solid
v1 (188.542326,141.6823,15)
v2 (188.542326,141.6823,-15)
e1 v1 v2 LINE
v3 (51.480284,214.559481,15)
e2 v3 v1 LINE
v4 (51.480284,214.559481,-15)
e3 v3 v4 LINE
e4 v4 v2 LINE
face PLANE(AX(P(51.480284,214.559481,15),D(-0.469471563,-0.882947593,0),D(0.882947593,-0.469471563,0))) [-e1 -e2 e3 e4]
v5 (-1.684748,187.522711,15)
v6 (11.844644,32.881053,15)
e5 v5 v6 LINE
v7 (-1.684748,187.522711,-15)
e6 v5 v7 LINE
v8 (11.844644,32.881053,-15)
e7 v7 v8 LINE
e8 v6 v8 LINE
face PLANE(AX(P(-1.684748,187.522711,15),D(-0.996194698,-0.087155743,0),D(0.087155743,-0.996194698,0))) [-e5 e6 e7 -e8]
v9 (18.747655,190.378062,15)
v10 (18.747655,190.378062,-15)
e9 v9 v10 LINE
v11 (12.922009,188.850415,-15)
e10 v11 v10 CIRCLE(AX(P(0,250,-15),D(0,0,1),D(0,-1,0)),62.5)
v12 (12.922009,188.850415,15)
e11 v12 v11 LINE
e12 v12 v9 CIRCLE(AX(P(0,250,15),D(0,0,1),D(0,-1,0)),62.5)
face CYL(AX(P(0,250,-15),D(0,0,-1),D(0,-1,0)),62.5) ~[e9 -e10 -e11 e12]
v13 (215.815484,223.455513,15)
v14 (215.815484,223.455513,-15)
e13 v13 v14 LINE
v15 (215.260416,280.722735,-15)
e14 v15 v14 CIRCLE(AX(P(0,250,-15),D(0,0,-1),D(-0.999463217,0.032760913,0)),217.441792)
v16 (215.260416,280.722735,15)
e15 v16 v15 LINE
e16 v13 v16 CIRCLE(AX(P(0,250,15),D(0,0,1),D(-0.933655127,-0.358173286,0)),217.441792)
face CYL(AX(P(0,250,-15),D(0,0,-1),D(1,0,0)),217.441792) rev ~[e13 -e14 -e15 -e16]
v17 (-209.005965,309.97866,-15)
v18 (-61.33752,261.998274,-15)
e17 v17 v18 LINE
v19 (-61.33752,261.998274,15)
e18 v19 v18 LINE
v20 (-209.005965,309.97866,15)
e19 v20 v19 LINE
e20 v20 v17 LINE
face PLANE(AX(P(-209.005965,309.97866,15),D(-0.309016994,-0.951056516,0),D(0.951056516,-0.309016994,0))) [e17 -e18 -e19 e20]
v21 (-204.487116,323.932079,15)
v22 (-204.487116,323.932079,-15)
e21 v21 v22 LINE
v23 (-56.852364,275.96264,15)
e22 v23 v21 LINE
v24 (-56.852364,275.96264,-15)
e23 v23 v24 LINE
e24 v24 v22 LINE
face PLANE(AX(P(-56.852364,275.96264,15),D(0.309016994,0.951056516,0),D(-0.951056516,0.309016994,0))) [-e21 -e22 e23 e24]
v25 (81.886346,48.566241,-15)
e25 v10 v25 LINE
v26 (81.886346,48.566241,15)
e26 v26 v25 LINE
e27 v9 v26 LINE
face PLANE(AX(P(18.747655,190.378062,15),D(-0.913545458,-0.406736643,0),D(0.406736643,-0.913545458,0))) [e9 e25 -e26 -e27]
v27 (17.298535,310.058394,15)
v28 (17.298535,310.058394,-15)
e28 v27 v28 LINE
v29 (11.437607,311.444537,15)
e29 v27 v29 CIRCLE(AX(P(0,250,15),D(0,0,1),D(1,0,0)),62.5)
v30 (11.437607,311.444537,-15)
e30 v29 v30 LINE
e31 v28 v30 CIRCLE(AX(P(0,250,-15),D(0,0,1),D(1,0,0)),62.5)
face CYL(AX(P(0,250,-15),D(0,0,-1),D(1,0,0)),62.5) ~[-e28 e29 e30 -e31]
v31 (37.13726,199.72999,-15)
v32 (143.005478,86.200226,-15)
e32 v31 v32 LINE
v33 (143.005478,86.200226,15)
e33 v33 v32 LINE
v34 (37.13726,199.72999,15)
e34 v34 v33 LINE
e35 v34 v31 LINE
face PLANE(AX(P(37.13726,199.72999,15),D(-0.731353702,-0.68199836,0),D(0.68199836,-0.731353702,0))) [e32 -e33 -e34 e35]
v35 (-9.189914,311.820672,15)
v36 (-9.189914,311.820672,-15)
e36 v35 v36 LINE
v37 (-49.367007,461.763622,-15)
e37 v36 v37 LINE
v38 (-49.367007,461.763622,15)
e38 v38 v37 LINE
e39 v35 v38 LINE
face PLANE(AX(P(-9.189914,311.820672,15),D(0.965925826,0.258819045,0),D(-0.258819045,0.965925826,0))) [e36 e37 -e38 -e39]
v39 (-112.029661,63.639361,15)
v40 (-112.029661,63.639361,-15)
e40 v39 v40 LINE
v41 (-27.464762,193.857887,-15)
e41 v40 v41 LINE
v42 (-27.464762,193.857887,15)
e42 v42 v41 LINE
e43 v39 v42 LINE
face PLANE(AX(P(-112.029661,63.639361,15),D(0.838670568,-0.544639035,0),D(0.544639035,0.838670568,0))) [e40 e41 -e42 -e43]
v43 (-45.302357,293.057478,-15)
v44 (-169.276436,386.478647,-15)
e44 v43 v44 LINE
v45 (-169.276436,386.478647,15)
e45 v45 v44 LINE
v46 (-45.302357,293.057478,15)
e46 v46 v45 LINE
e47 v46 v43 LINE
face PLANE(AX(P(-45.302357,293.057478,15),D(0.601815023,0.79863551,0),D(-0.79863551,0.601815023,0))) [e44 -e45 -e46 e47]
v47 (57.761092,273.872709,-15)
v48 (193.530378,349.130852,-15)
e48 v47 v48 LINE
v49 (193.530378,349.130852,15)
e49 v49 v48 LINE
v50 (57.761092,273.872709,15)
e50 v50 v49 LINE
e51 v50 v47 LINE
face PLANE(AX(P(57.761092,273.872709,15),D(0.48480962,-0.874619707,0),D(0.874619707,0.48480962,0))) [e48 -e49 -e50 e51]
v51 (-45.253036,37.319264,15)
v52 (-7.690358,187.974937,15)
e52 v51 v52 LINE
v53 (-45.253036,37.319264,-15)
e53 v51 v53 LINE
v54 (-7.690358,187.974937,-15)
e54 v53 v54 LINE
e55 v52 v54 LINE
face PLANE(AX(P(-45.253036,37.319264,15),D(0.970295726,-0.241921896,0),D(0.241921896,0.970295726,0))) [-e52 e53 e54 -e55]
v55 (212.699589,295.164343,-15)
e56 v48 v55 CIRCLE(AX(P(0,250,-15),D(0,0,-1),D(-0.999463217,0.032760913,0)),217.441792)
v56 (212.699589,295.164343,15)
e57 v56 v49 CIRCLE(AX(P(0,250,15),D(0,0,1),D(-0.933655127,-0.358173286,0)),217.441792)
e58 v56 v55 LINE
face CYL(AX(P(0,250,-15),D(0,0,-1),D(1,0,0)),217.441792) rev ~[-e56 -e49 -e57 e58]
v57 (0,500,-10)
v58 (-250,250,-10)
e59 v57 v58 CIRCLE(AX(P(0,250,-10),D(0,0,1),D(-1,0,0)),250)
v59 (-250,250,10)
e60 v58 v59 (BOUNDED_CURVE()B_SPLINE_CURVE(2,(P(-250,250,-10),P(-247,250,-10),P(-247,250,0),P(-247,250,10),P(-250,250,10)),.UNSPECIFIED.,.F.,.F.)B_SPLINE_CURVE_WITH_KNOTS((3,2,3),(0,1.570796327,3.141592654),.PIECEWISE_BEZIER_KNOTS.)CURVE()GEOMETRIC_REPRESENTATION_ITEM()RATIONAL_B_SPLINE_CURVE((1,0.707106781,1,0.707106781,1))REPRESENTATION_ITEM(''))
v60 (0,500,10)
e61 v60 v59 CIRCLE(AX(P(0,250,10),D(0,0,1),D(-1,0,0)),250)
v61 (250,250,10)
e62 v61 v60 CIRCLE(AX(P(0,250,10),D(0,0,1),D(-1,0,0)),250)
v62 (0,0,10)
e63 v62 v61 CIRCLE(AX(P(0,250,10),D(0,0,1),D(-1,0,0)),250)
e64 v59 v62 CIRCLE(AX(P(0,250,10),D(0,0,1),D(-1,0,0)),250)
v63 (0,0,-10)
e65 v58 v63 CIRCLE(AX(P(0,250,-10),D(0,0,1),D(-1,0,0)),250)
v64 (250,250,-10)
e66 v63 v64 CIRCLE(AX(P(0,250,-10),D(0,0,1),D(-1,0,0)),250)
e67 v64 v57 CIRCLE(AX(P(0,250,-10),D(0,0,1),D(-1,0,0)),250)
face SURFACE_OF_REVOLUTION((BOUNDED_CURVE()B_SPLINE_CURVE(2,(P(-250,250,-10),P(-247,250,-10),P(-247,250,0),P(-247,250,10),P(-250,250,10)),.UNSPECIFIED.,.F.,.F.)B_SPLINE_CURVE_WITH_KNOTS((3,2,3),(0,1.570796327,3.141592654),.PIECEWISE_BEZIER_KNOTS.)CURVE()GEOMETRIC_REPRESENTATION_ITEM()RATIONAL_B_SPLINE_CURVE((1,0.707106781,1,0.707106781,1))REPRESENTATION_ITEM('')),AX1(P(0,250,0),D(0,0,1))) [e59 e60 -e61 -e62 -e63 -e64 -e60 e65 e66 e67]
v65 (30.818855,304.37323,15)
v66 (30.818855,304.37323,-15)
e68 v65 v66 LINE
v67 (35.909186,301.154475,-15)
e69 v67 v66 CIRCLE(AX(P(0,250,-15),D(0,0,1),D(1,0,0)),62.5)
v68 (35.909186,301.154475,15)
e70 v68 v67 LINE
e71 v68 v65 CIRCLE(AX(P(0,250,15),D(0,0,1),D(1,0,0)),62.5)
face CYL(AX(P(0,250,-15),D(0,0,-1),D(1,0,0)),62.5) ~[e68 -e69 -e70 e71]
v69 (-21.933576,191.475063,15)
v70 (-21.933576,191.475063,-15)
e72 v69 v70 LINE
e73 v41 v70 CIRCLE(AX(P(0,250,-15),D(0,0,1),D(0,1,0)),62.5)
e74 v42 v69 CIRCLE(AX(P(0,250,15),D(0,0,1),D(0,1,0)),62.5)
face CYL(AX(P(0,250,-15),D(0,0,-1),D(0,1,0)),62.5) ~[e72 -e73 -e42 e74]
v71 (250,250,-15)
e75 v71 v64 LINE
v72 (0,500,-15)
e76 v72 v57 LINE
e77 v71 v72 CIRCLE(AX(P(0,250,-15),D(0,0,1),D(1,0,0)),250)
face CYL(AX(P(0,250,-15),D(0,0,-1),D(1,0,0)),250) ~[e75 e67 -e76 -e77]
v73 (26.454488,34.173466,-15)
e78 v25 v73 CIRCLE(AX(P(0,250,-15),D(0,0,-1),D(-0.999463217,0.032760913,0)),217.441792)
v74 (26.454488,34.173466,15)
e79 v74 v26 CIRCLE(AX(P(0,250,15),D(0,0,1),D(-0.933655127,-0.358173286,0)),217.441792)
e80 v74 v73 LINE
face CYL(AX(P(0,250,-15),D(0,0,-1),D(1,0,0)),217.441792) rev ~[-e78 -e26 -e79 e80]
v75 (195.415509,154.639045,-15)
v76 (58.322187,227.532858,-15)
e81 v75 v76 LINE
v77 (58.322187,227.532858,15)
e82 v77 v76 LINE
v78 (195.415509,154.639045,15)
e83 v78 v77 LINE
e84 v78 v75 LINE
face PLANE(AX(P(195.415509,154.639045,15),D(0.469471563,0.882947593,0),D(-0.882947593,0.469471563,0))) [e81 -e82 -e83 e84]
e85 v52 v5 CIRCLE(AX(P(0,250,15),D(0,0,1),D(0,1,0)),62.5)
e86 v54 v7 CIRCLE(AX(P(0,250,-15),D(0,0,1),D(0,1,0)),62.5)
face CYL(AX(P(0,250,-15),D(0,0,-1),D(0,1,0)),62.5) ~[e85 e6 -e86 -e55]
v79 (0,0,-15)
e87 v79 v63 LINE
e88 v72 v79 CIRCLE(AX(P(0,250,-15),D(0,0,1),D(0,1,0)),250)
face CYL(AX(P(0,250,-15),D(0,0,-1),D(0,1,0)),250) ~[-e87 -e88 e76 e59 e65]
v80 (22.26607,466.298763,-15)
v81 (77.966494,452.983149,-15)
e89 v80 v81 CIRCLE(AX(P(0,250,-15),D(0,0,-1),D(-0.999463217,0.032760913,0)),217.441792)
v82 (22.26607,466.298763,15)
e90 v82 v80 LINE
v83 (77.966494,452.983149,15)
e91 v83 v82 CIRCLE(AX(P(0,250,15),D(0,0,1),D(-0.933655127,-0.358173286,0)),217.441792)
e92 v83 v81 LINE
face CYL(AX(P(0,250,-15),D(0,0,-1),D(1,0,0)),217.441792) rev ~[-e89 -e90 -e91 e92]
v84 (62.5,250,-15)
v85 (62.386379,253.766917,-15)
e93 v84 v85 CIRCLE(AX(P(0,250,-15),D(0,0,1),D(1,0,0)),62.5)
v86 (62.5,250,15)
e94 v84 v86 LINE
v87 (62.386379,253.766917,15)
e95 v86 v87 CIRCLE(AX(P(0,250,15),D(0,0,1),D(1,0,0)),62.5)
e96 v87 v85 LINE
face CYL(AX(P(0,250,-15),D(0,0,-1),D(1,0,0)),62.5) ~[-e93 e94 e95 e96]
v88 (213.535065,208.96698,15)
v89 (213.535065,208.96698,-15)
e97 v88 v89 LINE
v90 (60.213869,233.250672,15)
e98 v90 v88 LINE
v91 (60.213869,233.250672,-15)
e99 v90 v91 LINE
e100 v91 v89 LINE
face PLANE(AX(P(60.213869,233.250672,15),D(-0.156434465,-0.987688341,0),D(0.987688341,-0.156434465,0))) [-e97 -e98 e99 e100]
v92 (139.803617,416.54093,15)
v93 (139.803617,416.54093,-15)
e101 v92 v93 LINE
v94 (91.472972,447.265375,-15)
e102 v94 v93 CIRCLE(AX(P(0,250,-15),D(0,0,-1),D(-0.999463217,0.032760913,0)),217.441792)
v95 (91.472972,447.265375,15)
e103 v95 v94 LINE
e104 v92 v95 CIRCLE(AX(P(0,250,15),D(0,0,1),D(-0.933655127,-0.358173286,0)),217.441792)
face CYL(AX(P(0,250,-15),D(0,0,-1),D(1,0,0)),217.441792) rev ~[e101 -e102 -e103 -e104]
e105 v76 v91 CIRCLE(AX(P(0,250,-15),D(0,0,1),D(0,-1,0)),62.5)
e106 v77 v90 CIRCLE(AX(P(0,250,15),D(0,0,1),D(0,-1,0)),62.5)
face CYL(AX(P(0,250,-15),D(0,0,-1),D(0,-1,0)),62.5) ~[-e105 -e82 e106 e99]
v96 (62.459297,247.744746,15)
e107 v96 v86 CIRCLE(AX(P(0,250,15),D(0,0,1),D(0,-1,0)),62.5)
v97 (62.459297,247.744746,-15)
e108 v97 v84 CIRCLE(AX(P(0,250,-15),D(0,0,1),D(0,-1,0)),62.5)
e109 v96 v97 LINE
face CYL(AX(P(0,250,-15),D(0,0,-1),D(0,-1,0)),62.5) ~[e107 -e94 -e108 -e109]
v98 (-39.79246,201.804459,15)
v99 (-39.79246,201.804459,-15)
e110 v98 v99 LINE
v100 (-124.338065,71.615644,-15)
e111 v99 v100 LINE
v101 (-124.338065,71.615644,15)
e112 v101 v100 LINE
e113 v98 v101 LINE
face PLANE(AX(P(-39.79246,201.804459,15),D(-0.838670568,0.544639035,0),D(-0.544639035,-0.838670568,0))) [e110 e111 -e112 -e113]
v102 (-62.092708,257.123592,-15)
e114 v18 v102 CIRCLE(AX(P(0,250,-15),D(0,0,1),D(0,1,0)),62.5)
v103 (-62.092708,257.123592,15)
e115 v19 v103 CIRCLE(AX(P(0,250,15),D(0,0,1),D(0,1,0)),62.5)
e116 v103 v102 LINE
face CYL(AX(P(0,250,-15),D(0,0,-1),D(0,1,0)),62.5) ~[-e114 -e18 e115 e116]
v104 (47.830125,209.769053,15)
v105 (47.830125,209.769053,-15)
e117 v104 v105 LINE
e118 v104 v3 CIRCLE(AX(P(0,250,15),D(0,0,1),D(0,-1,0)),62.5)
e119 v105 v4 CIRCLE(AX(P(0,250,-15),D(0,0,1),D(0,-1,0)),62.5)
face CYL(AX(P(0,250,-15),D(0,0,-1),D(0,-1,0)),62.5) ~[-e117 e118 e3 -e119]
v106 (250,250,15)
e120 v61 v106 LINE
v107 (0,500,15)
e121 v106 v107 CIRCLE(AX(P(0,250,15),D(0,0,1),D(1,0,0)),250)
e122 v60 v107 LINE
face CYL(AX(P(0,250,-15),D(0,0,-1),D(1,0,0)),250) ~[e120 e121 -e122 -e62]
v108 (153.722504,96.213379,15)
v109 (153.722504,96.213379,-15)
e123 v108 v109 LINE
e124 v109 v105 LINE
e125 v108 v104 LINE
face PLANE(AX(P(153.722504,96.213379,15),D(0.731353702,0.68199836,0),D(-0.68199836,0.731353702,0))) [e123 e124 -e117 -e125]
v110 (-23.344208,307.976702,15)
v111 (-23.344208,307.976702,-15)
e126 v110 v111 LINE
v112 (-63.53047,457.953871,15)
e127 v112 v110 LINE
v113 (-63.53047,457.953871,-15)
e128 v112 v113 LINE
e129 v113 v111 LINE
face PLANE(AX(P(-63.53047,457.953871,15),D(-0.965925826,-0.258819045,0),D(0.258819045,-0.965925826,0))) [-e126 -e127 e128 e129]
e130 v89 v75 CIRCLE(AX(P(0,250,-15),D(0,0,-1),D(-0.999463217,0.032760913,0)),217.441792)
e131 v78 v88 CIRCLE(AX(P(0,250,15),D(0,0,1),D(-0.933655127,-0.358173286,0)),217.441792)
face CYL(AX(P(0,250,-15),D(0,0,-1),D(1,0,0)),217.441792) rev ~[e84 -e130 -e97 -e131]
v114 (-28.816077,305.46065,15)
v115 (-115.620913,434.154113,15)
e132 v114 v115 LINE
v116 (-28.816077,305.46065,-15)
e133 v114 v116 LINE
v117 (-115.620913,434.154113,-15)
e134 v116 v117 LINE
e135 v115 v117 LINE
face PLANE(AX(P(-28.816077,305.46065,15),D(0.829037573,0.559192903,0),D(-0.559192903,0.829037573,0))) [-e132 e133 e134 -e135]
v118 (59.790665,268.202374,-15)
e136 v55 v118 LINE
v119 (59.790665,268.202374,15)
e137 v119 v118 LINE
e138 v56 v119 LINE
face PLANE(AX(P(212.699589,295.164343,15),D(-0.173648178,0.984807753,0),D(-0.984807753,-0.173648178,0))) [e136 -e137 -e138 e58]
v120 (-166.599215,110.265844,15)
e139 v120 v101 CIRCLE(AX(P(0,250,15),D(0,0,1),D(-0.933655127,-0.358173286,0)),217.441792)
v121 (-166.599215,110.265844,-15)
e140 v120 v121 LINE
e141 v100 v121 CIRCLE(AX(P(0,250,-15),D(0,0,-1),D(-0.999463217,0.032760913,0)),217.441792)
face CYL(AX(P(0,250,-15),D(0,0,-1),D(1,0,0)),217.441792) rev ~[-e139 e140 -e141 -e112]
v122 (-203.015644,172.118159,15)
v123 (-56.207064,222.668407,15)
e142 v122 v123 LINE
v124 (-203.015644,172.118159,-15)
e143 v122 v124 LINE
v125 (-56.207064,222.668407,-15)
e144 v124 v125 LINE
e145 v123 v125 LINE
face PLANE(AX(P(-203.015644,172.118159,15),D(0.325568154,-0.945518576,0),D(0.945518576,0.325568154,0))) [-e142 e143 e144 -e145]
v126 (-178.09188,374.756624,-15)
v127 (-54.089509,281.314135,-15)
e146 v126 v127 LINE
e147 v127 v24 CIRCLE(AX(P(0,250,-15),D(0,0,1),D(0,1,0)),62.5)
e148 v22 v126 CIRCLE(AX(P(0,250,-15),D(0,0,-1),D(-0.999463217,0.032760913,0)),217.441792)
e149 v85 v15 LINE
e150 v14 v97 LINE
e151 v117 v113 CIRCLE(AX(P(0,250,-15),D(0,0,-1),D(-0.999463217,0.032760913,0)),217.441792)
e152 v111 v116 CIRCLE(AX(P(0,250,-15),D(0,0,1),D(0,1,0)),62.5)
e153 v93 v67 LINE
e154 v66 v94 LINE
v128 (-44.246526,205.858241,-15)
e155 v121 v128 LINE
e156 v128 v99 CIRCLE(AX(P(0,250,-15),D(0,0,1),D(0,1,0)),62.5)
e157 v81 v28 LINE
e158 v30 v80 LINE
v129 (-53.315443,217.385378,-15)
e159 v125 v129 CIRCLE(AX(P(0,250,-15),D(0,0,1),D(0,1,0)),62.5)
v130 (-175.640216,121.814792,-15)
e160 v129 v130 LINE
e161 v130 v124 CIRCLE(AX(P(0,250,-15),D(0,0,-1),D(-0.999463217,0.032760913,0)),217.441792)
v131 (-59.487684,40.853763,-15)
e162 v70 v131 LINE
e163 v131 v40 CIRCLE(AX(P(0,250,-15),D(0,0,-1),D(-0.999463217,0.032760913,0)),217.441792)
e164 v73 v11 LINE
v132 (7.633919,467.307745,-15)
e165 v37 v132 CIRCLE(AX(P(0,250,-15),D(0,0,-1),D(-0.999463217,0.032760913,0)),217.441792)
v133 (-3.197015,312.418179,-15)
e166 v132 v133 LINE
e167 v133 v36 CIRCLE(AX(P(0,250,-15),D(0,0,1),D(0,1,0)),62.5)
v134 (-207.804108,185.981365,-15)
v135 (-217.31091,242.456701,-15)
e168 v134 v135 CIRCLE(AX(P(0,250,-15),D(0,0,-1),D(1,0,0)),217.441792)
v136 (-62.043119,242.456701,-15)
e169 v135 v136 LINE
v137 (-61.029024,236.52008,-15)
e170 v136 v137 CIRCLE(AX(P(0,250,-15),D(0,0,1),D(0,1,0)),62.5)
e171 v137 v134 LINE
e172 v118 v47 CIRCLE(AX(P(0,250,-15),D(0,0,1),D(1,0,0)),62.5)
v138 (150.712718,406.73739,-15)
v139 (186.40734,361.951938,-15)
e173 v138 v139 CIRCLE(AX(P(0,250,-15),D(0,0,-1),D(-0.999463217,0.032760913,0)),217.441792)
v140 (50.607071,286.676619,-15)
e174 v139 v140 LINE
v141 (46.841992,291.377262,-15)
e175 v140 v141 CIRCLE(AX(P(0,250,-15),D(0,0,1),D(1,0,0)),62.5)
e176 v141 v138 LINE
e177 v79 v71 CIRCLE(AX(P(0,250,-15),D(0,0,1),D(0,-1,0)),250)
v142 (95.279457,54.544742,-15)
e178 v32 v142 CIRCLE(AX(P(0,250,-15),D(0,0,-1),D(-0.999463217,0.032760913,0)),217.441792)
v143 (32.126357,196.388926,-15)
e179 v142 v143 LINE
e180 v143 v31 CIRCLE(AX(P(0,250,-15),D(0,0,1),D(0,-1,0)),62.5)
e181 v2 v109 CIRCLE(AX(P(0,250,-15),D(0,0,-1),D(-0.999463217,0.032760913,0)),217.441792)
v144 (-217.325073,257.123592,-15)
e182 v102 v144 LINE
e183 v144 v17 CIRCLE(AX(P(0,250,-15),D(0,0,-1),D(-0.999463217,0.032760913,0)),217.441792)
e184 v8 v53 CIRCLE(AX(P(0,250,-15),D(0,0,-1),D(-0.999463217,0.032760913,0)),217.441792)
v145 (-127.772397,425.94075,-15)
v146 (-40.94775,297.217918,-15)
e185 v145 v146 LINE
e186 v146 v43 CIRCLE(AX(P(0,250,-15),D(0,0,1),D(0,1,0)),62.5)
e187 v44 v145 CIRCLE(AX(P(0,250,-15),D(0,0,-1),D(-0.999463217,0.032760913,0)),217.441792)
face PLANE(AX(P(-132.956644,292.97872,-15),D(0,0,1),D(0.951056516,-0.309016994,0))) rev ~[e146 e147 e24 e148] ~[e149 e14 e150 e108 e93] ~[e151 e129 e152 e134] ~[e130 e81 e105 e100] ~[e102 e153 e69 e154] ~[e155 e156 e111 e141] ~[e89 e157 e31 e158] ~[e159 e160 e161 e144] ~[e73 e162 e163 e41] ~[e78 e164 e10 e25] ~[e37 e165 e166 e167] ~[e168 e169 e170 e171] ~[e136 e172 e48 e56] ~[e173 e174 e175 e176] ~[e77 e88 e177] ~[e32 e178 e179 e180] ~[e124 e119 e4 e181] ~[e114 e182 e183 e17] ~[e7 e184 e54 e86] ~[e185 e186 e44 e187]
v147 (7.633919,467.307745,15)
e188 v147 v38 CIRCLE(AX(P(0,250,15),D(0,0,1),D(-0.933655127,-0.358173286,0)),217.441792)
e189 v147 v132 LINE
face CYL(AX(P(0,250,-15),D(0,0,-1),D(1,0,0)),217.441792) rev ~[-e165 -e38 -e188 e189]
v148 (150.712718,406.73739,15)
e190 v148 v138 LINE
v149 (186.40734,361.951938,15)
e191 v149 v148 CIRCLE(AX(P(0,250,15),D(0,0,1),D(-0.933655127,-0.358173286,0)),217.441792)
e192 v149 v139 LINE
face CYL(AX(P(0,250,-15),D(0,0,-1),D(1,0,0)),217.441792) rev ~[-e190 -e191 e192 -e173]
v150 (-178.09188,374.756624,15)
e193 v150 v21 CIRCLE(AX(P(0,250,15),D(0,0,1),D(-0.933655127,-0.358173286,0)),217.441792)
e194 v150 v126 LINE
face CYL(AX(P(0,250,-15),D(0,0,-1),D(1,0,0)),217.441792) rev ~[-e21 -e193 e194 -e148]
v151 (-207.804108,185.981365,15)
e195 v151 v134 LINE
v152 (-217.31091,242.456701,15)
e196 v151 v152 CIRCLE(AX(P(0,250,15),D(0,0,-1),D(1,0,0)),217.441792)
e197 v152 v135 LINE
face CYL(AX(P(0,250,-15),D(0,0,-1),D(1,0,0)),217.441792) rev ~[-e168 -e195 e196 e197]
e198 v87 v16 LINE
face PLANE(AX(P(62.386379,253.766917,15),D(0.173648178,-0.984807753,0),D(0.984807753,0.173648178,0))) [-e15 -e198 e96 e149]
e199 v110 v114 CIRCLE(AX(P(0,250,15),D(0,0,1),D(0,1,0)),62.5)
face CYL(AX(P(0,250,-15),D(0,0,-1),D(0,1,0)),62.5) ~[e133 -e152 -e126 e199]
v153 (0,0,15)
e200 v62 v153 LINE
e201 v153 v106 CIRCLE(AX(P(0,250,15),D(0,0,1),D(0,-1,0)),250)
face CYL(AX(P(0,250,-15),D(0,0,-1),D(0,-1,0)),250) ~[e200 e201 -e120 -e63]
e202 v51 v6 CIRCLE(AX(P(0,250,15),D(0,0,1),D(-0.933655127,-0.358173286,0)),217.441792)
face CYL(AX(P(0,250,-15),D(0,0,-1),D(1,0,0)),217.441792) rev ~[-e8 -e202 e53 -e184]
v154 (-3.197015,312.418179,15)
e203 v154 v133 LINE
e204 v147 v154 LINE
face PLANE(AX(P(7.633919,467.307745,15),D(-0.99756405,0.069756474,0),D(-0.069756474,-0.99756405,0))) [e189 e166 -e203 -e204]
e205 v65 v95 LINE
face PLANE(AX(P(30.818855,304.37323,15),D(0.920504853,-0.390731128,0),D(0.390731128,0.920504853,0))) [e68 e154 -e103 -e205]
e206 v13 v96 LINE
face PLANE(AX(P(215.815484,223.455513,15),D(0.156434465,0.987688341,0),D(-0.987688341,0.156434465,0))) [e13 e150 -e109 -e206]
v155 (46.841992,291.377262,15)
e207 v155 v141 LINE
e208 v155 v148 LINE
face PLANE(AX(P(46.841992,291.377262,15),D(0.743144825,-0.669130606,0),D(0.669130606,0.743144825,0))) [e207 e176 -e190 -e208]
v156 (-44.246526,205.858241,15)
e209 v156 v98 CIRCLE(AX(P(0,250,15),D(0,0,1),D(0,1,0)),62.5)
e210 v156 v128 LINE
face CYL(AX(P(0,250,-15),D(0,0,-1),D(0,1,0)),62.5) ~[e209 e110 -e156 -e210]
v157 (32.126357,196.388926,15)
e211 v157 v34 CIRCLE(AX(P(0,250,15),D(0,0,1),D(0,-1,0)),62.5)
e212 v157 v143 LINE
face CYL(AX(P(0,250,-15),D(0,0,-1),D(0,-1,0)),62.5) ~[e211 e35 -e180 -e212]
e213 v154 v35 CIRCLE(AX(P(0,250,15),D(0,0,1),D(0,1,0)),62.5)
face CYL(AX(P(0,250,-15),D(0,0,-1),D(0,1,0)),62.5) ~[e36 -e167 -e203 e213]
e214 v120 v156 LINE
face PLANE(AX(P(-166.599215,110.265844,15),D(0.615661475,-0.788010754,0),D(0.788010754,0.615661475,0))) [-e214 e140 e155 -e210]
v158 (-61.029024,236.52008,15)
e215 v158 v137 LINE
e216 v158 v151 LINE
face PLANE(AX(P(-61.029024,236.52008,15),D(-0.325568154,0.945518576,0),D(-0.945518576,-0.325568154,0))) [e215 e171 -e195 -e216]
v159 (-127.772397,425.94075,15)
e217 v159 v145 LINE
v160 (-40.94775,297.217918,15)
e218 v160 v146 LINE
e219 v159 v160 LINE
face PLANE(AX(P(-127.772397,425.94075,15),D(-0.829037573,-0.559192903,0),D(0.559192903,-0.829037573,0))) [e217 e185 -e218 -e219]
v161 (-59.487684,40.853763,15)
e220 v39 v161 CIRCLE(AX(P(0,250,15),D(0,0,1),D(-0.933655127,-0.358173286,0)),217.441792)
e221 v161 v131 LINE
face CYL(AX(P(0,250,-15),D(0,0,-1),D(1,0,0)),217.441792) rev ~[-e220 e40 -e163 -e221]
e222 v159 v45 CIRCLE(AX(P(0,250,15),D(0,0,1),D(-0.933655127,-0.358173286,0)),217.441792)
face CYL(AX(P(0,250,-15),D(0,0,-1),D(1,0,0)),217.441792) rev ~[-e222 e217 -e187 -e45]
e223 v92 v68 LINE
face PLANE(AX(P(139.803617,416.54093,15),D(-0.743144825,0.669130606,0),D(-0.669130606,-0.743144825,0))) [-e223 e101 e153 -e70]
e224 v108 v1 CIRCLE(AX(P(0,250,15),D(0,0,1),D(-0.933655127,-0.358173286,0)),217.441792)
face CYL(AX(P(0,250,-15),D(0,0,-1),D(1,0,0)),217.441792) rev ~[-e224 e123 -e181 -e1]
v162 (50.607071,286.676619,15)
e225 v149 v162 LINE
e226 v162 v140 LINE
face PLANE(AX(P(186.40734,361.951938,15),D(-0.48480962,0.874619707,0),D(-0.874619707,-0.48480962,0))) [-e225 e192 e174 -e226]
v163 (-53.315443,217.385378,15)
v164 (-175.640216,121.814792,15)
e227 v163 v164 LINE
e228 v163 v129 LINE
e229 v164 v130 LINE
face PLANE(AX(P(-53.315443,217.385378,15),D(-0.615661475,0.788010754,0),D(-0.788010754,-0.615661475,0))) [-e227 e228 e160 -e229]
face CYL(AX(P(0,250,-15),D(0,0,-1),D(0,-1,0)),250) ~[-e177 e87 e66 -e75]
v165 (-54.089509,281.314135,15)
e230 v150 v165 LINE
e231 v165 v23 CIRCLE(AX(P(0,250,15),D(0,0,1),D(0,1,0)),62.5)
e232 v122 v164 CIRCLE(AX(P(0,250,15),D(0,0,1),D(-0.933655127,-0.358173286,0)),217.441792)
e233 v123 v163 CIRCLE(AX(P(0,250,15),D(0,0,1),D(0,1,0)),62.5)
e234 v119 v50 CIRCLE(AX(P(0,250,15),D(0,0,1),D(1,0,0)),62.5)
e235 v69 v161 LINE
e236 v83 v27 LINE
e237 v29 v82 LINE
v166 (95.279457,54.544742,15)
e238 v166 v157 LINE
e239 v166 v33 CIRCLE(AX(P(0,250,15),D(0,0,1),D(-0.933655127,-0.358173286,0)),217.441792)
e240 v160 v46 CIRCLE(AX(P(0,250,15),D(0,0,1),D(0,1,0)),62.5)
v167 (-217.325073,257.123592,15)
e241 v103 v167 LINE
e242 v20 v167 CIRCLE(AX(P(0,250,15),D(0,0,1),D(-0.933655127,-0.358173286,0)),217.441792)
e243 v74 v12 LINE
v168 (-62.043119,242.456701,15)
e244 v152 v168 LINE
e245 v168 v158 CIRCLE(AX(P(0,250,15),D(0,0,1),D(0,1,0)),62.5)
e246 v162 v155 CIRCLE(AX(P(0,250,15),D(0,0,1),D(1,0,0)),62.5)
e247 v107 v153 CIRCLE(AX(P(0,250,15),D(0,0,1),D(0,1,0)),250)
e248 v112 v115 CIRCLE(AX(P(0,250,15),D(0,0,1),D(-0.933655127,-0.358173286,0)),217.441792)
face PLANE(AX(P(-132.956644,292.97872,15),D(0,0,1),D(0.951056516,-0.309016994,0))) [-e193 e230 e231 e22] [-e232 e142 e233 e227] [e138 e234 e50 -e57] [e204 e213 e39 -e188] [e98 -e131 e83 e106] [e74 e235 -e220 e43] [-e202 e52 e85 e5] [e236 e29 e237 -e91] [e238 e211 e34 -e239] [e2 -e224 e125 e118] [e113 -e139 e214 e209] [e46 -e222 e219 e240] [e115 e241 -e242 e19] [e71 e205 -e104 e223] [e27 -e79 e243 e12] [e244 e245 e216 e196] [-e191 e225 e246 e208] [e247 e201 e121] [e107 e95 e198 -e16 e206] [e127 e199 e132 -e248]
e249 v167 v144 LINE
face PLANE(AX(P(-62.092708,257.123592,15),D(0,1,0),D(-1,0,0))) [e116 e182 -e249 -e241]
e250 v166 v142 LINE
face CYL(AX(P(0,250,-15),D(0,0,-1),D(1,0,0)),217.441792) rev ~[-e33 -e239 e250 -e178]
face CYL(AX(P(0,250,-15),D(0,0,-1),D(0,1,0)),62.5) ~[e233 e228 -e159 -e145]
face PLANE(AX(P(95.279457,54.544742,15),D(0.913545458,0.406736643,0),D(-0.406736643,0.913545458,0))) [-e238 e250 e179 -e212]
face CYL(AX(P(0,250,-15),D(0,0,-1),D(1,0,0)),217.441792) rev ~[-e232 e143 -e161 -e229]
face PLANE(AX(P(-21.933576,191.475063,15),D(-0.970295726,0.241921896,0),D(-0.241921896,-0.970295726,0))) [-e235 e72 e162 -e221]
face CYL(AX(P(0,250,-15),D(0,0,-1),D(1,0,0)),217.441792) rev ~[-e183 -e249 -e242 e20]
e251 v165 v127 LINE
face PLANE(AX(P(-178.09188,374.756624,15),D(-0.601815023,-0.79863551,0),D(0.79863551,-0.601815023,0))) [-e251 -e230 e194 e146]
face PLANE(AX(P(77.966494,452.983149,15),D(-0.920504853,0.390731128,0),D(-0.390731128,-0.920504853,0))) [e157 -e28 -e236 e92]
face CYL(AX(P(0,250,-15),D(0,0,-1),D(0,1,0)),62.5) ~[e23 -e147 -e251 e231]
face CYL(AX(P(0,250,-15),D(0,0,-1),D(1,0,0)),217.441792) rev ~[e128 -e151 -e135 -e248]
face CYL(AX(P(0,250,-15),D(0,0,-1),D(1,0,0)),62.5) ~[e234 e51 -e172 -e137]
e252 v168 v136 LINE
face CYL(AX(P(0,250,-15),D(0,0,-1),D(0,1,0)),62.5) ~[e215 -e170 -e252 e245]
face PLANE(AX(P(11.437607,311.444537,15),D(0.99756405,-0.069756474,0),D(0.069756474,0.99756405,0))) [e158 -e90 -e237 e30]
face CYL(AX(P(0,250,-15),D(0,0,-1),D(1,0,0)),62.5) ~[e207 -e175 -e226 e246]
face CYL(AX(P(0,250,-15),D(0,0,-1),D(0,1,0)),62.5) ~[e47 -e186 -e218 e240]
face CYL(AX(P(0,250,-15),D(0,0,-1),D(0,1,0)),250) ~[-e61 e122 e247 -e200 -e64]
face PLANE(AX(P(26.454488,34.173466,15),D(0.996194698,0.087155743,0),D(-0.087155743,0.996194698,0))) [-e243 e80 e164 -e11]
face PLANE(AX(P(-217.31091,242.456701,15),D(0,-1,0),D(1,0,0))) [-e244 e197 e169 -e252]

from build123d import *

# Parameters (mm, degrees)
BOSS_EXTRUDE1_DEPTH      = 15
BOSS_EXTRUDE1_DEPTH_BACK = 15
BOSS_EXTRUDE2_DEPTH      = 30
CIRPATTERN1_COUNT        = 19
CIRPATTERN1_ANGLE        = 342


with BuildPart() as part:
    # Sketch2 → Boss-Extrude1 (new, two sides: drawn at the far end of the back side and taken through both)
    with BuildSketch(Plane.XY.offset(-BOSS_EXTRUDE1_DEPTH_BACK)):
        with BuildLine():
            ThreePointArc((0, 32.558207974), (-217.441792026, 250), (0, 467.441792026))
            Line((0, 467.441792026), (0, 500))
            ThreePointArc((0, 500), (-250, 250), (0, 0))
            Line((0, 0), (0, 32.558207974))
        make_face()
        with BuildLine():
            Line((0, 500), (0, 467.441792026))
            ThreePointArc((0, 467.441792026), (153.754565655, 403.754565655), (217.441792026, 250))
            ThreePointArc((217.441792026, 250), (153.754565655, 96.245434345), (0, 32.558207974))
            Line((0, 32.558207974), (0, 0))
            ThreePointArc((0, 0), (176.776695297, 73.223304703), (250, 250))
            ThreePointArc((250, 250), (176.776695297, 426.776695297), (0, 500))
        make_face()
        with BuildLine():
            Line((0, 312.5), (0, 260))
            Line((0, 260), (0, 240))
            Line((0, 240), (0, 187.5))
            ThreePointArc((0, 187.5), (44.194173824, 205.805826176), (62.5, 250))
            ThreePointArc((62.5, 250), (44.194173824, 294.194173824), (0, 312.5))
        make_face()
        with BuildLine():
            Line((0, 240), (0, 260))
            Line((0, 260), (0, 312.5))
            ThreePointArc((0, 312.5), (-62.5, 250), (0, 187.5))
            Line((0, 187.5), (0, 240))
        make_face()
    extrude(amount=BOSS_EXTRUDE1_DEPTH + BOSS_EXTRUDE1_DEPTH_BACK)

    # Sketch4 → Boss-Extrude2 (add)
    with BuildSketch(Plane.XY.offset(15)):
        with BuildLine():
            ThreePointArc((-62.043119193, 242.456700933), (-62.499642772, 249.788686637), (-62.092708437, 257.123591721))
            Line((-62.092708437, 257.123591721), (-217.325073014, 257.123591721))
            add(Edge.make_bspline(
                [(-217.325073014, 257.123591721), (-218.805807348, 249.792999154), (-217.310909893, 242.456700933)],
                knots=[0, 0, 0, 1, 1, 1], degree=2))
            Line((-217.310909893, 242.456700933), (-62.043119193, 242.456700933))
        make_face()
    boss_extrude2 = extrude(amount=-BOSS_EXTRUDE2_DEPTH)

    # CirPattern1: Boss-Extrude2 ×19 about axis
    cirpattern1_axis = Axis((0, 250, 0), (0, 0, 1))
    for i in range(1, CIRPATTERN1_COUNT):
        add(boss_extrude2.rotate(cirpattern1_axis, i * CIRPATTERN1_ANGLE / (CIRPATTERN1_COUNT - 1)))

    # Sketch1 → Cut-Revolve1 (revolve, cut)
    with BuildSketch(Plane(origin=(0, 0, 0), x_dir=(0, 0, -1), z_dir=(1, 0, 0)), mode=Mode.PRIVATE) as cut_revolve1_sk:
        with BuildLine():
            Line((-10, 0), (-10, -1.402735917))
            Line((-10, -1.402735917), (10, -1.402735917))
            Line((10, -1.402735917), (10, 0))
            add(Edge.make_bspline(
                [(10, 0), (10, 3), (0, 3), (-10, 3), (-10, 0)],
                knots=[0, 0, 0, 1.570796327, 1.570796327, 3.141592654, 3.141592654, 3.141592654], degree=2, weights=[1, 0.707106781, 1, 0.707106781, 1]))
        make_face()
    revolve(cut_revolve1_sk.sketch.rotate(Axis((0, 250, 0), (0, 0, 1)), 270), axis=Axis((0, 250, 0), (0, 0, 1)), mode=Mode.SUBTRACT)


solid = part.part
